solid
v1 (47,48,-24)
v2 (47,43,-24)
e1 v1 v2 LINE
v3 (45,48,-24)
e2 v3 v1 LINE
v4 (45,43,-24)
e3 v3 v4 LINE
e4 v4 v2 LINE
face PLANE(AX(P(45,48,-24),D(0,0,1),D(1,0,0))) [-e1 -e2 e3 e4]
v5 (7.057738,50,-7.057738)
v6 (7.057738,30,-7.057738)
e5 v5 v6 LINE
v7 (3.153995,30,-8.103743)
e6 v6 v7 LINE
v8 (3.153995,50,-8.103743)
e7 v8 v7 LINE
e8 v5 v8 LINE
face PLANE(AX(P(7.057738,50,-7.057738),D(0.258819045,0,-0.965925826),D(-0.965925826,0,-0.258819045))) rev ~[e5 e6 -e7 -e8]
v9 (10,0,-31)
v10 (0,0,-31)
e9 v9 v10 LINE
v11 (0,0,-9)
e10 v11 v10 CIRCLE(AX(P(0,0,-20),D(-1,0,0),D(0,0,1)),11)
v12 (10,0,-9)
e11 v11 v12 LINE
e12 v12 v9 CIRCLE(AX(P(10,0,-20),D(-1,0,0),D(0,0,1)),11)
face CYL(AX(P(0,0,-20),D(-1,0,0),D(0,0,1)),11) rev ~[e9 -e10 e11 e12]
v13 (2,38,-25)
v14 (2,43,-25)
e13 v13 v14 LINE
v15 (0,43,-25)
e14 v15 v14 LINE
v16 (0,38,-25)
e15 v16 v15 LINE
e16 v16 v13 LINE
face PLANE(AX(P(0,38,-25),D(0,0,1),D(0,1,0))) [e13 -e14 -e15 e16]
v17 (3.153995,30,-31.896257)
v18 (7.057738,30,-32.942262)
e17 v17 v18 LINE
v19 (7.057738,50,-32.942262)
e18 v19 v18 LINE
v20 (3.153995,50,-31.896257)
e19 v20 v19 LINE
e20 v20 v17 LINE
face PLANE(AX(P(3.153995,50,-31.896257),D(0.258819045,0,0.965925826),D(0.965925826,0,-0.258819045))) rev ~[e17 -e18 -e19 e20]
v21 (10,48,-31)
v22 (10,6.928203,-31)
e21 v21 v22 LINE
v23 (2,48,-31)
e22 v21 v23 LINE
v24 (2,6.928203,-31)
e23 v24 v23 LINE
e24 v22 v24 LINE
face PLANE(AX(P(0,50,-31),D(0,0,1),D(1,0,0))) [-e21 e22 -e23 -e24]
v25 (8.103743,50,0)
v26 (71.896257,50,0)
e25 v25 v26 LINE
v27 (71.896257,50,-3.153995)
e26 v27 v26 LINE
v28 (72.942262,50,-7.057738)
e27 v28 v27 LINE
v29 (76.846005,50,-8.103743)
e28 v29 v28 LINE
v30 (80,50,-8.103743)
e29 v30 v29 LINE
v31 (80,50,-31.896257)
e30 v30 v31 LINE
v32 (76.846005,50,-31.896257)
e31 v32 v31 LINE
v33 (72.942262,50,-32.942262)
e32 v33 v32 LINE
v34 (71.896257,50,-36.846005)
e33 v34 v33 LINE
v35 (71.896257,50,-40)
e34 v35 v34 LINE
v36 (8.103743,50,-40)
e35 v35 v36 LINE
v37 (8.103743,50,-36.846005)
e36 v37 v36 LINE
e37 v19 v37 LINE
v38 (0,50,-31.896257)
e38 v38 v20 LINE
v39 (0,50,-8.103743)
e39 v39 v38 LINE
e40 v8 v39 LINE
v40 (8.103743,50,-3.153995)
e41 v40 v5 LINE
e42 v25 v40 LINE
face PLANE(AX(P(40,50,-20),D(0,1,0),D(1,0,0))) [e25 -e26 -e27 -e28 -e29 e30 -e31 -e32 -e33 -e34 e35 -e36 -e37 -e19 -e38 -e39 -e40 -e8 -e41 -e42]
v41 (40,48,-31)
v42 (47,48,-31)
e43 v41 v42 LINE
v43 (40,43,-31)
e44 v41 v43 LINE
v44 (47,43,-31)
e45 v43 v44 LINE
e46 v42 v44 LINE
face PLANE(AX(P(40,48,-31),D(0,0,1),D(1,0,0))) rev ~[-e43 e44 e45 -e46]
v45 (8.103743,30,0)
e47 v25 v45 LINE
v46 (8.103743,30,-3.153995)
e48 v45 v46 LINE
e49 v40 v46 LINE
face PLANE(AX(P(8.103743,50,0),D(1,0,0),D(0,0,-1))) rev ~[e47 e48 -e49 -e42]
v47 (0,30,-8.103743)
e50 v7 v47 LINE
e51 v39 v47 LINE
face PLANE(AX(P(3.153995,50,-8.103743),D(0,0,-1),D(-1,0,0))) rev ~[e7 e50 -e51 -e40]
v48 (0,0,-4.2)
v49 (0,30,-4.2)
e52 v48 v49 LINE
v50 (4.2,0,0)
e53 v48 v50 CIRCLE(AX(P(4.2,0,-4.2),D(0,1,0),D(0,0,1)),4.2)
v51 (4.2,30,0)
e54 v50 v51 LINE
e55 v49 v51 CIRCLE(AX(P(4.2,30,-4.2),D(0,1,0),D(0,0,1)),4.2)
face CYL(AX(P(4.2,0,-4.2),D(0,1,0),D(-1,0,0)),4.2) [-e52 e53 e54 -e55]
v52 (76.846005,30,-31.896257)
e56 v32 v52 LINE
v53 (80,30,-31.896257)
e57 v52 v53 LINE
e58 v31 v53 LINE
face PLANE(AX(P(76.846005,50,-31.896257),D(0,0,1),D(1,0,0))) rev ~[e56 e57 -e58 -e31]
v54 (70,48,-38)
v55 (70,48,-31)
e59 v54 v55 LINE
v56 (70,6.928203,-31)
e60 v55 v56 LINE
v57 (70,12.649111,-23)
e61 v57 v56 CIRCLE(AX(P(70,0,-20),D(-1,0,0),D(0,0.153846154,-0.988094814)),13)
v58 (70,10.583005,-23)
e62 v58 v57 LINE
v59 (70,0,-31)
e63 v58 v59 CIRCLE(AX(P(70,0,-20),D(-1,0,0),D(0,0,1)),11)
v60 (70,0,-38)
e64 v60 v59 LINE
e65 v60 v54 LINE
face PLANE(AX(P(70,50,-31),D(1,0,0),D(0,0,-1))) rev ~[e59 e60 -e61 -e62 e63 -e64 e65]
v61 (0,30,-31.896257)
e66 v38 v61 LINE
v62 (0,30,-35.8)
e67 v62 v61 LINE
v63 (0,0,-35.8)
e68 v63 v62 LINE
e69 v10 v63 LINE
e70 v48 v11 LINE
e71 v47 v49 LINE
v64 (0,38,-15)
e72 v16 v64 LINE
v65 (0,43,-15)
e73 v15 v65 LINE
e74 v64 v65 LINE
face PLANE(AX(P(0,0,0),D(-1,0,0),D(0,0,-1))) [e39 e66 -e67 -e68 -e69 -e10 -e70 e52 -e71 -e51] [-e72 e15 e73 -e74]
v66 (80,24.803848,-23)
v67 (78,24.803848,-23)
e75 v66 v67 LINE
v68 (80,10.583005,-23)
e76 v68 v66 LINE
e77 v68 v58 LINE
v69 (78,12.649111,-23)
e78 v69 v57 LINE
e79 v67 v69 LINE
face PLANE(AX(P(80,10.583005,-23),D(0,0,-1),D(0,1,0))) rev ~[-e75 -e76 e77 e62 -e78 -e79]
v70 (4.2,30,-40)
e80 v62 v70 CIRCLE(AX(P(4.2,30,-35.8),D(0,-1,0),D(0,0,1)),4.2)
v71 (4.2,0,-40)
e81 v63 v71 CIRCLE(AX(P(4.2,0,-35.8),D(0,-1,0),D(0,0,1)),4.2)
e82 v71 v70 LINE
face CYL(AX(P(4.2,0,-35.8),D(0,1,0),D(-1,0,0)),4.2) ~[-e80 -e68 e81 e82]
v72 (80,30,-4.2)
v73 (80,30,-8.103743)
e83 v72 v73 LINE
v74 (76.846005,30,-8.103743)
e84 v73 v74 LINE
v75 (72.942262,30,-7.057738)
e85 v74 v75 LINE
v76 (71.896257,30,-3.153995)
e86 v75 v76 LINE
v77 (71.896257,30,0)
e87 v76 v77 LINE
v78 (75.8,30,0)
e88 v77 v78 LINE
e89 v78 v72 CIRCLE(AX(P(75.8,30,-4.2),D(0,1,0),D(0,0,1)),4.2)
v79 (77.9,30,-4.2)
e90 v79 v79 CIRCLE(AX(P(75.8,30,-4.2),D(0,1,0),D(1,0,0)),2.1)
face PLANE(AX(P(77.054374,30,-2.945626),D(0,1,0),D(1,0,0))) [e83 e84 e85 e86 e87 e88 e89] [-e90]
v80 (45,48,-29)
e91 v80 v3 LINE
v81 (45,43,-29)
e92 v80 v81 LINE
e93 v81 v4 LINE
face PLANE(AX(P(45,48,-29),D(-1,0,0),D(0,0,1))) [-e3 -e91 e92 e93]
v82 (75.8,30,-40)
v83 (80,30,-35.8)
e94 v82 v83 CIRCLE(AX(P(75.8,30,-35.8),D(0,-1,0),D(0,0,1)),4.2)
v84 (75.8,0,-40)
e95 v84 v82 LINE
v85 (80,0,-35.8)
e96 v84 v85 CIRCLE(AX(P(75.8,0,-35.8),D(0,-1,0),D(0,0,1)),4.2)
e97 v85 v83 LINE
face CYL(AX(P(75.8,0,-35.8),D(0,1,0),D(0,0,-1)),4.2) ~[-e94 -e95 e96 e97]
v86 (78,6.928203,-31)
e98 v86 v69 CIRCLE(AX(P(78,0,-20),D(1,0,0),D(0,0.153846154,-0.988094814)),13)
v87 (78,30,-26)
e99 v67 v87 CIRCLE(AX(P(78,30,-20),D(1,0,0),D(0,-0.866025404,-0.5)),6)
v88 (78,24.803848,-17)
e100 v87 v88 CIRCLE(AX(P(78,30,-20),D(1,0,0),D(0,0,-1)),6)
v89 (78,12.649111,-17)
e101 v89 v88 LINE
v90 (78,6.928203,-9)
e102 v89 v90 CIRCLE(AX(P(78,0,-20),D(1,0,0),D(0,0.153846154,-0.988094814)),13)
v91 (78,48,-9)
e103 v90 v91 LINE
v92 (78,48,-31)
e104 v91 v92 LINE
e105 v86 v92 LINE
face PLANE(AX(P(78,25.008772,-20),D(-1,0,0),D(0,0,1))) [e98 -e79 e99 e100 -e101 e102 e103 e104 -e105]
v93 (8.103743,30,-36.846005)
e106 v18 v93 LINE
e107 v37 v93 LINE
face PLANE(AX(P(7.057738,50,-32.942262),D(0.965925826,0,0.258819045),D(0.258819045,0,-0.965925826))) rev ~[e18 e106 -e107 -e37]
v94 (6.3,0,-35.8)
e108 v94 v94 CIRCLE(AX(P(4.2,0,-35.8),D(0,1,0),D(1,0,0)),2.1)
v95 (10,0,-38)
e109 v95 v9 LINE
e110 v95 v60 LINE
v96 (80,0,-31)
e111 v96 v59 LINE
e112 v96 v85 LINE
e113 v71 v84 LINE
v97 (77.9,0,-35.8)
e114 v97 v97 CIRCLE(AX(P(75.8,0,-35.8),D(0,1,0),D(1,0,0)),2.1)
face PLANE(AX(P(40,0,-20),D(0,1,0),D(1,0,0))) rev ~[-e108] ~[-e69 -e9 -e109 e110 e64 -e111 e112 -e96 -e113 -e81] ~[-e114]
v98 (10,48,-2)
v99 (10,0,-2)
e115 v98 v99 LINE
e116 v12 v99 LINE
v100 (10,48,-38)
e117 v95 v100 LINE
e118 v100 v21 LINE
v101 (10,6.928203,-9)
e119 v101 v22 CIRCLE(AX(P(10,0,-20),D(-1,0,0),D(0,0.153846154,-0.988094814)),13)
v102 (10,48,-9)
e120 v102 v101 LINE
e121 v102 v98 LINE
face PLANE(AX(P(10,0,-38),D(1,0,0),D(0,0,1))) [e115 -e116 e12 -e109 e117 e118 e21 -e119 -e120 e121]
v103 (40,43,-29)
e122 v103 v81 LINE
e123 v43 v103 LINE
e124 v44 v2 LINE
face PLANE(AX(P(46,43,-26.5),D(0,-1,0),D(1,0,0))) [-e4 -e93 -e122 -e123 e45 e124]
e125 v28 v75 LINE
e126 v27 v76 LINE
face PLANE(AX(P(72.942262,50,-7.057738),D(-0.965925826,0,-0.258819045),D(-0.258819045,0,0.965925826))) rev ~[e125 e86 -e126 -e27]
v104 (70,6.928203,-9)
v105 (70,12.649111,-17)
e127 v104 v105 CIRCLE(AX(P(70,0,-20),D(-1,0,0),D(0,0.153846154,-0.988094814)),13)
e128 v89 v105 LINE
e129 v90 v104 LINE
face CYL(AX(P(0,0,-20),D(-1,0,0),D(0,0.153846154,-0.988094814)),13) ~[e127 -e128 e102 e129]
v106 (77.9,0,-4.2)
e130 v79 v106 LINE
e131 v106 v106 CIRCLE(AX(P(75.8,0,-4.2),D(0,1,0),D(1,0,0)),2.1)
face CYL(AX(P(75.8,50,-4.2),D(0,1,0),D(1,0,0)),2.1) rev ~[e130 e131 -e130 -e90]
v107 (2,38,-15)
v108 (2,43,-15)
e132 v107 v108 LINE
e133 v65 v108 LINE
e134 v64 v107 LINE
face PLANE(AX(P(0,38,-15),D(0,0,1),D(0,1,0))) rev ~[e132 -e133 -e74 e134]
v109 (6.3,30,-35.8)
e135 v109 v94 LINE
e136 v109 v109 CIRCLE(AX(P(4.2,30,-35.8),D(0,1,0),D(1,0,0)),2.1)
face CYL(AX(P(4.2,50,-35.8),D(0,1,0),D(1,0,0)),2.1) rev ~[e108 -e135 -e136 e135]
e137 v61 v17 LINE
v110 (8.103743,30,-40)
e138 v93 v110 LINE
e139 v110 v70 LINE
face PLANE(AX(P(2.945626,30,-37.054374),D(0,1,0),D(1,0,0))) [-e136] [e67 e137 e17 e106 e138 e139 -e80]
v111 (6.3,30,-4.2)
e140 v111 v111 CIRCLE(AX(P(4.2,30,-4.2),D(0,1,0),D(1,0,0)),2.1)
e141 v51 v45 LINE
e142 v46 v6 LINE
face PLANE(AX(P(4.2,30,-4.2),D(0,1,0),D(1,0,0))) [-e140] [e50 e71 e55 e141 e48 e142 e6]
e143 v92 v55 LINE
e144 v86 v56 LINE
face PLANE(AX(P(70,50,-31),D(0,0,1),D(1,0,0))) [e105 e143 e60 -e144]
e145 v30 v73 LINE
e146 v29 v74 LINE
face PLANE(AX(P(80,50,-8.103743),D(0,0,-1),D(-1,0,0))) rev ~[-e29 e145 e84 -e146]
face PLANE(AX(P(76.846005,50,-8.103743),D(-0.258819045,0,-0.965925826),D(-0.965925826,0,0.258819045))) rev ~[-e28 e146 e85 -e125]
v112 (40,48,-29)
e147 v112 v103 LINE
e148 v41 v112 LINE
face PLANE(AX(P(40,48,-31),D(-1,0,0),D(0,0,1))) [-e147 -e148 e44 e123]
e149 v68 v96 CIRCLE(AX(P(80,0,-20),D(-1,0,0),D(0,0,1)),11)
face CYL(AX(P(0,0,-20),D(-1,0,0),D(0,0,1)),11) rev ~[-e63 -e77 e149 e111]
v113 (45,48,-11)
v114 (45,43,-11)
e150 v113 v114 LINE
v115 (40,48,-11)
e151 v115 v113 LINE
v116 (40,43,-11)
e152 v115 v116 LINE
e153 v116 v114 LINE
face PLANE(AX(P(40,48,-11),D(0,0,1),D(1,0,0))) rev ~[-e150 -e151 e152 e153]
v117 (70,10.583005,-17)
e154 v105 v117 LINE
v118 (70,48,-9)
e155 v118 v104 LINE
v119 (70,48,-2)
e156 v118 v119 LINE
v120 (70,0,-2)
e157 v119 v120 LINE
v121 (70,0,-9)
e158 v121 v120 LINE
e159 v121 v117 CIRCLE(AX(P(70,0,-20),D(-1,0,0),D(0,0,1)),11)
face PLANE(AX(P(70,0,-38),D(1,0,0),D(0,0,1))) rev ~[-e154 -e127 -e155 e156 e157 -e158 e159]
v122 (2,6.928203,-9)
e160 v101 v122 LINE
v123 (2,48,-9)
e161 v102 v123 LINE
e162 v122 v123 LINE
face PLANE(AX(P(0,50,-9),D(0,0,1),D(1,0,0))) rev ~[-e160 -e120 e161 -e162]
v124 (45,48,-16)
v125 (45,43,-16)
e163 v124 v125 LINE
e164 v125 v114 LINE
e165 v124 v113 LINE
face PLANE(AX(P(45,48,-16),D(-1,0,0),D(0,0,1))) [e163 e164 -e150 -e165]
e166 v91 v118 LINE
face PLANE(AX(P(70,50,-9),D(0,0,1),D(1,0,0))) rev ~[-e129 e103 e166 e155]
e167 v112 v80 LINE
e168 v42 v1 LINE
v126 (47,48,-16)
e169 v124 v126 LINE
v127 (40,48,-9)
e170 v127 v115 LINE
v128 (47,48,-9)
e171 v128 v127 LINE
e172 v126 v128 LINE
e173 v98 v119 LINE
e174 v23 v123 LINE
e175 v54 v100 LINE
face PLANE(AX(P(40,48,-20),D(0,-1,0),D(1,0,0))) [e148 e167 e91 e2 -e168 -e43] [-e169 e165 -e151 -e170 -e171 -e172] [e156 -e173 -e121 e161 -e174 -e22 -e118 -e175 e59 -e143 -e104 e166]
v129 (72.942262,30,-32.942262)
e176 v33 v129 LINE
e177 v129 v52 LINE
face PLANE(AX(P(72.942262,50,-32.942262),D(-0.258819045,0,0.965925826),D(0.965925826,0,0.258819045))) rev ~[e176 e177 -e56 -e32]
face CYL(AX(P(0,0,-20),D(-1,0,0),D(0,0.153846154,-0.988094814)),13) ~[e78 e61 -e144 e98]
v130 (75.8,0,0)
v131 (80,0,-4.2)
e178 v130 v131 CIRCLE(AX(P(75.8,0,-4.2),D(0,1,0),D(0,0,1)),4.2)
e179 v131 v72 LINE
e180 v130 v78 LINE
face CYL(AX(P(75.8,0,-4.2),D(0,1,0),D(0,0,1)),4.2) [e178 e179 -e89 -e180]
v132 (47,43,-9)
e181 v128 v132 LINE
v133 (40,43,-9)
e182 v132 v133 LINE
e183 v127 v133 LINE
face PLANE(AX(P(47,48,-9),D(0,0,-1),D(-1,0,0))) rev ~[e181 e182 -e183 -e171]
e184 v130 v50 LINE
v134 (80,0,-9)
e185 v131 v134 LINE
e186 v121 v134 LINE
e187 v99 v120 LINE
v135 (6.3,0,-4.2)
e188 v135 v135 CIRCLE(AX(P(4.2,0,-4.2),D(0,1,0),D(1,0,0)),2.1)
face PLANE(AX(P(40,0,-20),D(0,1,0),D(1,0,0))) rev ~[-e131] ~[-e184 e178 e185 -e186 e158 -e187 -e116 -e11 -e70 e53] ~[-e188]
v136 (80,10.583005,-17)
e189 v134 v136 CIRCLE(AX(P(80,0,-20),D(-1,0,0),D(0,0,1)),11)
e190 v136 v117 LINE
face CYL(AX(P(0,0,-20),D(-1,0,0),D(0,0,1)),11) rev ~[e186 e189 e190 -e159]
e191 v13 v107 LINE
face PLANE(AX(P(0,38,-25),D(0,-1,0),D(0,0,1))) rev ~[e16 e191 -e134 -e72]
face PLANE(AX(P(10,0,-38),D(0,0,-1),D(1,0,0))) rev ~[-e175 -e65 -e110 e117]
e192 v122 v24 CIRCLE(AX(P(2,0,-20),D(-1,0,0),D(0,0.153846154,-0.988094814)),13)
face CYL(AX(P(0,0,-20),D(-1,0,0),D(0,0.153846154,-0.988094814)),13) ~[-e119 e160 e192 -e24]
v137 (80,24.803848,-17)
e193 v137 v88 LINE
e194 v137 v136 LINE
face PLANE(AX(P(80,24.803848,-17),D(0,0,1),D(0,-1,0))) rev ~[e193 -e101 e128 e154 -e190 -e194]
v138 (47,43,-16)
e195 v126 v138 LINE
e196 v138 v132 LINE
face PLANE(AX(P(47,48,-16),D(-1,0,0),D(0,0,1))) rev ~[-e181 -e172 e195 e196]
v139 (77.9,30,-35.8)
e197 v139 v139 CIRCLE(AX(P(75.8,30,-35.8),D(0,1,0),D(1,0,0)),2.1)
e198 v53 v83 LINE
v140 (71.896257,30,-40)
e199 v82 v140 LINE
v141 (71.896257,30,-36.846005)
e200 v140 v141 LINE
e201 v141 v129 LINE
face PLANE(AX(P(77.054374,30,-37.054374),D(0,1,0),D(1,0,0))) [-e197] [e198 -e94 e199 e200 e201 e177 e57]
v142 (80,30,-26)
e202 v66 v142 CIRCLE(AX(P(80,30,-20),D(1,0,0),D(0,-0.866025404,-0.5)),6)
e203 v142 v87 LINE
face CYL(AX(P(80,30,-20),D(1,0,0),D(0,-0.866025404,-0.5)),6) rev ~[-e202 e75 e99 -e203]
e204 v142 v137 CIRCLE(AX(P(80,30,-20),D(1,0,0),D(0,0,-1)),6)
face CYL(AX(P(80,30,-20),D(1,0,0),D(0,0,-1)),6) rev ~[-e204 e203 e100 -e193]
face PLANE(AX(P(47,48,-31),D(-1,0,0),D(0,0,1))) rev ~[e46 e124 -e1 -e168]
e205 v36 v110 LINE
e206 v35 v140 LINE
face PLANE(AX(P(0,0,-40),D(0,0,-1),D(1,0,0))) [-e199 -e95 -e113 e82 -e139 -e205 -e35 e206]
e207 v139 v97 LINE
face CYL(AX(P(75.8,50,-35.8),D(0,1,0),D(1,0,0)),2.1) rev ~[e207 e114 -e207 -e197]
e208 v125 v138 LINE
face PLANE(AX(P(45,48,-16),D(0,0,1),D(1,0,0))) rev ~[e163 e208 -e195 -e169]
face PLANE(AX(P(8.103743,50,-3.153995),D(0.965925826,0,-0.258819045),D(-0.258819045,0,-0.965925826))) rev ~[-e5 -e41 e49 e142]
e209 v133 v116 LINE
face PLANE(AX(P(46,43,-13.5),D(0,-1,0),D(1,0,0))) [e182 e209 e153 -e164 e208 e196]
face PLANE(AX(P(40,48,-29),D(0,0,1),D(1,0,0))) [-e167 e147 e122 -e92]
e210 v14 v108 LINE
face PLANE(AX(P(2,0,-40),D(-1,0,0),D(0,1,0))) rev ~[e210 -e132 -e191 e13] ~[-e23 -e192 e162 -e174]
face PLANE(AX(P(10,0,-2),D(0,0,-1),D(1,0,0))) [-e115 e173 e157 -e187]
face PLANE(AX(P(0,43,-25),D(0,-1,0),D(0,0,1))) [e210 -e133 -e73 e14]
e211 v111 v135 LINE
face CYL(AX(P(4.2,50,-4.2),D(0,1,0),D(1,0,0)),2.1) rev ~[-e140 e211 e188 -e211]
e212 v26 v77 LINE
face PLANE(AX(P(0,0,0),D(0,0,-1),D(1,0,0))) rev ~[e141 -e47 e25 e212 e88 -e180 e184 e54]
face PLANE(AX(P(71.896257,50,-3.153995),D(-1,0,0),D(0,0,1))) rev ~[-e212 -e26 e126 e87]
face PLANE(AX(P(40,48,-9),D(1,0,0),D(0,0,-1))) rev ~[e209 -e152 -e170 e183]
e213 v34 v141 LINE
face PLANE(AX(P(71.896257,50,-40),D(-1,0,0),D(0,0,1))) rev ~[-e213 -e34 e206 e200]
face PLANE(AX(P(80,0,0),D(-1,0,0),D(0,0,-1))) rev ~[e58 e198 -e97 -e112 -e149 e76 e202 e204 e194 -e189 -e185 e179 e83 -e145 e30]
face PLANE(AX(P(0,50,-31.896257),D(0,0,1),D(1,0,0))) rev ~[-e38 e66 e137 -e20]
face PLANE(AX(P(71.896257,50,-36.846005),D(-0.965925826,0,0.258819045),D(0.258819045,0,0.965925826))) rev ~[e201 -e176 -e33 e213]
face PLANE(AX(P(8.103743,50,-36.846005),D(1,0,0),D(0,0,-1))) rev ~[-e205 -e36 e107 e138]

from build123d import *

# Parameters (mm, degrees)
ESQUISSE1_W             = 80
ESQUISSE1_H             = 40
BOSS_EXTRU_1_DEPTH      = 50
ENL_V_MAT_EXTRU_1_DEPTH = 78
ESQUISSE3_W             = 2
ESQUISSE3_H             = 50
BOSS_EXTRU_2_DEPTH      = 40
ESQUISSE4_R             = 11
ENL_V_MAT_EXTRU_2_DEPTH = 81
ESQUISSE5_W             = 60
ESQUISSE5_H             = 36
ENL_V_MAT_EXTRU_3_DEPTH = 48
ESQUISSE6_W             = 10
ESQUISSE6_H             = 5
ENL_V_MAT_EXTRU_4_DEPTH = 2
ENL_V_MAT_EXTRU_5_DEPTH = 10
ESQUISSE8_W             = 10
ESQUISSE8_H             = 9
BOSS_EXTRU_3_DEPTH      = 50
ESQUISSE9_R             = 2.1
ENL_V_MAT_EXTRU_6_DEPTH = 51
ESQUISSE10_R            = 2.1
ENL_V_MAT_EXTRU_7_DEPTH = 20
CONG_1_R                = 4.2
ESQUISSE11_W            = 2
ESQUISSE11_H            = 5
ESQUISSE11_W_2          = 7
ESQUISSE11_H_2          = 2
BOSS_EXTRU_4_DEPTH      = 5


with BuildPart() as part:
    # Esquisse1 → Boss.-Extru.1 (new body)
    with BuildSketch(Plane(origin=(0, 0, 0), x_dir=(1, 0, 0), z_dir=(0, 1, 0))):
        with Locations((40, 20)):
            Rectangle(ESQUISSE1_W, ESQUISSE1_H)
    extrude(amount=BOSS_EXTRU_1_DEPTH)

    # Esquisse2 → Enlèv. mat.-Extru.1 (cut)
    with BuildSketch(Plane.ZY):
        with BuildLine():
            Line((-2, 48), (-38, 48))
            Line((-38, 48), (-38, 2))
            Line((-38, 2), (-32.845232579, 2))
            ThreePointArc((-32.845232579, 2), (-20, 13), (-7.154767421, 2))
            Line((-7.154767421, 2), (-2, 2))
            Line((-2, 2), (-2, 48))
        make_face()
    extrude(amount=-ENL_V_MAT_EXTRU_1_DEPTH, mode=Mode.SUBTRACT)

    # Esquisse3 → Boss.-Extru.2 (add)
    with BuildSketch(Plane(origin=(0, 0, -40), x_dir=(-1, 0, 0), z_dir=(0, 0, -1))):
        with Locations((-1, 25)):
            Rectangle(ESQUISSE3_W, ESQUISSE3_H)
    extrude(amount=-BOSS_EXTRU_2_DEPTH)

    # Esquisse4 → Enlèv. mat.-Extru.2 (cut, through all)
    with BuildSketch(Plane.ZY):
        with Locations((-20, 0)):
            Circle(ESQUISSE4_R)
    extrude(amount=-ENL_V_MAT_EXTRU_2_DEPTH, mode=Mode.SUBTRACT)

    # Esquisse5 → Enlèv. mat.-Extru.3 (cut)
    with BuildSketch(Plane.XZ):
        with Locations((40, -20)):
            Rectangle(ESQUISSE5_W, ESQUISSE5_H)
    extrude(amount=-ENL_V_MAT_EXTRU_3_DEPTH, mode=Mode.SUBTRACT)

    # Esquisse6 → Enlèv. mat.-Extru.4 (cut)
    with BuildSketch(Plane.ZY):
        with Locations((-20, 40.5)):
            Rectangle(ESQUISSE6_W, ESQUISSE6_H)
    extrude(amount=-ENL_V_MAT_EXTRU_4_DEPTH, mode=Mode.SUBTRACT)

    # Esquisse7 → Enlèv. mat.-Extru.5 (cut)
    with BuildSketch(Plane(origin=(80, 0, 0), x_dir=(0, 0, -1), z_dir=(1, 0, 0))):
        with BuildLine():
            Line((17, 24.803847577), (17, 27.021710026))
            Line((17, 27.021710026), (23, 27.021710026))
            Line((23, 27.021710026), (23, 24.803847577))
            ThreePointArc((23, 24.803847577), (25.196152423, 27), (26, 30))
            ThreePointArc((26, 30), (17, 35.196152423), (17, 24.803847577))
        make_face()
        with BuildLine():
            Line((23, 27.021710026), (17, 27.021710026))
            Line((17, 27.021710026), (17, 24.803847577))
            ThreePointArc((17, 24.803847577), (20, 24), (23, 24.803847577))
            Line((23, 24.803847577), (23, 27.021710026))
        make_face()
        with BuildLine():
            ThreePointArc((23, 24.803847577), (20, 24), (17, 24.803847577))
            Line((17, 24.803847577), (17, 10.583005244))
            ThreePointArc((17, 10.583005244), (20, 11), (23, 10.583005244))
            Line((23, 10.583005244), (23, 24.803847577))
        make_face()
    extrude(amount=-ENL_V_MAT_EXTRU_5_DEPTH, mode=Mode.SUBTRACT)

    # Esquisse8 → Boss.-Extru.3 (add)
    with BuildSketch(Plane(origin=(0, 50, 0), x_dir=(1, 0, 0), z_dir=(0, 1, 0))):
        with Locations((5, 4.5)):
            Rectangle(ESQUISSE8_W, ESQUISSE8_H)
        with Locations((5, 35.5)):
            Rectangle(ESQUISSE8_W, ESQUISSE8_H)
        with Locations((75, 35.5)):
            Rectangle(ESQUISSE8_W, ESQUISSE8_H)
        with Locations((75, 4.5)):
            Rectangle(ESQUISSE8_W, ESQUISSE8_H)
    extrude(amount=-BOSS_EXTRU_3_DEPTH)

    # Esquisse9 → Enlèv. mat.-Extru.6 (cut, through all)
    with BuildSketch(Plane(origin=(0, 50, 0), x_dir=(1, 0, 0), z_dir=(0, 1, 0))):
        with Locations((75.8, 4.2)):
            Circle(ESQUISSE9_R)
        with Locations((4.2, 4.2)):
            Circle(ESQUISSE9_R)
        with Locations((4.2, 35.8)):
            Circle(ESQUISSE9_R)
        with Locations((75.8, 35.8)):
            Circle(ESQUISSE9_R)
    extrude(amount=-ENL_V_MAT_EXTRU_6_DEPTH, mode=Mode.SUBTRACT)

    # Esquisse10 → Enlèv. mat.-Extru.7 (cut)
    with BuildSketch(Plane(origin=(0, 50, 0), x_dir=(1, 0, 0), z_dir=(0, 1, 0))):
        Polygon((5.246004718, 39.703742751), (8.103742751, 36.846004718), (8.103742751, 40), (0, 40), (0, 31.896257249), (3.153995282, 31.896257249), (0.296257249, 34.753995282), (1.342261967, 38.657738033), align=None)
        Polygon((7.057738033, 32.942261967), (8.103742751, 36.846004718), (5.246004718, 39.703742751), (1.342261967, 38.657738033), (0.296257249, 34.753995282), (3.153995282, 31.896257249), align=None)
        with Locations((4.2, 35.8)):
            Circle(ESQUISSE10_R, mode=Mode.SUBTRACT)
        Polygon((0.296257249, 5.246004718), (1.342261967, 1.342261967), (5.246004718, 0.296257249), (8.103742751, 3.153995282), (7.057738033, 7.057738033), (3.153995282, 8.103742751), align=None)
        with Locations((4.2, 4.2)):
            Circle(ESQUISSE10_R, mode=Mode.SUBTRACT)
        Polygon((3.153995282, 8.103742751), (0, 8.103742751), (0, 0), (8.103742751, 0), (8.103742751, 3.153995282), (5.246004718, 0.296257249), (1.342261967, 1.342261967), (0.296257249, 5.246004718), align=None)
        Polygon((80, 0), (80, 8.103742751), (76.846004718, 8.103742751), (79.703742751, 5.246004718), (78.657738033, 1.342261967), (74.753995282, 0.296257249), (71.896257249, 3.153995282), (71.896257249, 0), align=None)
        Polygon((72.942261967, 7.057738033), (71.896257249, 3.153995282), (74.753995282, 0.296257249), (78.657738033, 1.342261967), (79.703742751, 5.246004718), (76.846004718, 8.103742751), align=None)
        with Locations((75.8, 4.2)):
            Circle(ESQUISSE10_R, mode=Mode.SUBTRACT)
        Polygon((80, 40), (71.896257249, 40), (71.896257249, 36.846004718), (74.753995282, 39.703742751), (78.657738033, 38.657738033), (79.703742751, 34.753995282), (76.846004718, 31.896257249), (80, 31.896257249), align=None)
        Polygon((74.753995282, 39.703742751), (71.896257249, 36.846004718), (72.942261967, 32.942261967), (76.846004718, 31.896257249), (79.703742751, 34.753995282), (78.657738033, 38.657738033), align=None)
        with Locations((75.8, 35.8)):
            Circle(ESQUISSE10_R, mode=Mode.SUBTRACT)
    extrude(amount=-ENL_V_MAT_EXTRU_7_DEPTH, mode=Mode.SUBTRACT)

    # Congé1
    cong_1_edges = [part.edges().sort_by_distance(p)[0] for p in [
        (0, 15, -40),
        (0, 15, 0),
        (80, 15, 0),
        (80, 15, -40),
    ]]
    fillet(cong_1_edges, radius=CONG_1_R)

    # Esquisse11 → Boss.-Extru.4 (add)
    with BuildSketch(Plane.XZ.offset(-48)):
        with Locations((46, -13.5)):
            Rectangle(ESQUISSE11_W, ESQUISSE11_H)
        Polygon((40, -11), (45, -11), (47, -11), (47, -9), (40, -9), align=None)
        with Locations((46, -26.5)):
            Rectangle(ESQUISSE11_W, ESQUISSE11_H)
        with Locations((43.5, -30)):
            Rectangle(ESQUISSE11_W_2, ESQUISSE11_H_2)
    extrude(amount=BOSS_EXTRU_4_DEPTH)


solid = part.part
